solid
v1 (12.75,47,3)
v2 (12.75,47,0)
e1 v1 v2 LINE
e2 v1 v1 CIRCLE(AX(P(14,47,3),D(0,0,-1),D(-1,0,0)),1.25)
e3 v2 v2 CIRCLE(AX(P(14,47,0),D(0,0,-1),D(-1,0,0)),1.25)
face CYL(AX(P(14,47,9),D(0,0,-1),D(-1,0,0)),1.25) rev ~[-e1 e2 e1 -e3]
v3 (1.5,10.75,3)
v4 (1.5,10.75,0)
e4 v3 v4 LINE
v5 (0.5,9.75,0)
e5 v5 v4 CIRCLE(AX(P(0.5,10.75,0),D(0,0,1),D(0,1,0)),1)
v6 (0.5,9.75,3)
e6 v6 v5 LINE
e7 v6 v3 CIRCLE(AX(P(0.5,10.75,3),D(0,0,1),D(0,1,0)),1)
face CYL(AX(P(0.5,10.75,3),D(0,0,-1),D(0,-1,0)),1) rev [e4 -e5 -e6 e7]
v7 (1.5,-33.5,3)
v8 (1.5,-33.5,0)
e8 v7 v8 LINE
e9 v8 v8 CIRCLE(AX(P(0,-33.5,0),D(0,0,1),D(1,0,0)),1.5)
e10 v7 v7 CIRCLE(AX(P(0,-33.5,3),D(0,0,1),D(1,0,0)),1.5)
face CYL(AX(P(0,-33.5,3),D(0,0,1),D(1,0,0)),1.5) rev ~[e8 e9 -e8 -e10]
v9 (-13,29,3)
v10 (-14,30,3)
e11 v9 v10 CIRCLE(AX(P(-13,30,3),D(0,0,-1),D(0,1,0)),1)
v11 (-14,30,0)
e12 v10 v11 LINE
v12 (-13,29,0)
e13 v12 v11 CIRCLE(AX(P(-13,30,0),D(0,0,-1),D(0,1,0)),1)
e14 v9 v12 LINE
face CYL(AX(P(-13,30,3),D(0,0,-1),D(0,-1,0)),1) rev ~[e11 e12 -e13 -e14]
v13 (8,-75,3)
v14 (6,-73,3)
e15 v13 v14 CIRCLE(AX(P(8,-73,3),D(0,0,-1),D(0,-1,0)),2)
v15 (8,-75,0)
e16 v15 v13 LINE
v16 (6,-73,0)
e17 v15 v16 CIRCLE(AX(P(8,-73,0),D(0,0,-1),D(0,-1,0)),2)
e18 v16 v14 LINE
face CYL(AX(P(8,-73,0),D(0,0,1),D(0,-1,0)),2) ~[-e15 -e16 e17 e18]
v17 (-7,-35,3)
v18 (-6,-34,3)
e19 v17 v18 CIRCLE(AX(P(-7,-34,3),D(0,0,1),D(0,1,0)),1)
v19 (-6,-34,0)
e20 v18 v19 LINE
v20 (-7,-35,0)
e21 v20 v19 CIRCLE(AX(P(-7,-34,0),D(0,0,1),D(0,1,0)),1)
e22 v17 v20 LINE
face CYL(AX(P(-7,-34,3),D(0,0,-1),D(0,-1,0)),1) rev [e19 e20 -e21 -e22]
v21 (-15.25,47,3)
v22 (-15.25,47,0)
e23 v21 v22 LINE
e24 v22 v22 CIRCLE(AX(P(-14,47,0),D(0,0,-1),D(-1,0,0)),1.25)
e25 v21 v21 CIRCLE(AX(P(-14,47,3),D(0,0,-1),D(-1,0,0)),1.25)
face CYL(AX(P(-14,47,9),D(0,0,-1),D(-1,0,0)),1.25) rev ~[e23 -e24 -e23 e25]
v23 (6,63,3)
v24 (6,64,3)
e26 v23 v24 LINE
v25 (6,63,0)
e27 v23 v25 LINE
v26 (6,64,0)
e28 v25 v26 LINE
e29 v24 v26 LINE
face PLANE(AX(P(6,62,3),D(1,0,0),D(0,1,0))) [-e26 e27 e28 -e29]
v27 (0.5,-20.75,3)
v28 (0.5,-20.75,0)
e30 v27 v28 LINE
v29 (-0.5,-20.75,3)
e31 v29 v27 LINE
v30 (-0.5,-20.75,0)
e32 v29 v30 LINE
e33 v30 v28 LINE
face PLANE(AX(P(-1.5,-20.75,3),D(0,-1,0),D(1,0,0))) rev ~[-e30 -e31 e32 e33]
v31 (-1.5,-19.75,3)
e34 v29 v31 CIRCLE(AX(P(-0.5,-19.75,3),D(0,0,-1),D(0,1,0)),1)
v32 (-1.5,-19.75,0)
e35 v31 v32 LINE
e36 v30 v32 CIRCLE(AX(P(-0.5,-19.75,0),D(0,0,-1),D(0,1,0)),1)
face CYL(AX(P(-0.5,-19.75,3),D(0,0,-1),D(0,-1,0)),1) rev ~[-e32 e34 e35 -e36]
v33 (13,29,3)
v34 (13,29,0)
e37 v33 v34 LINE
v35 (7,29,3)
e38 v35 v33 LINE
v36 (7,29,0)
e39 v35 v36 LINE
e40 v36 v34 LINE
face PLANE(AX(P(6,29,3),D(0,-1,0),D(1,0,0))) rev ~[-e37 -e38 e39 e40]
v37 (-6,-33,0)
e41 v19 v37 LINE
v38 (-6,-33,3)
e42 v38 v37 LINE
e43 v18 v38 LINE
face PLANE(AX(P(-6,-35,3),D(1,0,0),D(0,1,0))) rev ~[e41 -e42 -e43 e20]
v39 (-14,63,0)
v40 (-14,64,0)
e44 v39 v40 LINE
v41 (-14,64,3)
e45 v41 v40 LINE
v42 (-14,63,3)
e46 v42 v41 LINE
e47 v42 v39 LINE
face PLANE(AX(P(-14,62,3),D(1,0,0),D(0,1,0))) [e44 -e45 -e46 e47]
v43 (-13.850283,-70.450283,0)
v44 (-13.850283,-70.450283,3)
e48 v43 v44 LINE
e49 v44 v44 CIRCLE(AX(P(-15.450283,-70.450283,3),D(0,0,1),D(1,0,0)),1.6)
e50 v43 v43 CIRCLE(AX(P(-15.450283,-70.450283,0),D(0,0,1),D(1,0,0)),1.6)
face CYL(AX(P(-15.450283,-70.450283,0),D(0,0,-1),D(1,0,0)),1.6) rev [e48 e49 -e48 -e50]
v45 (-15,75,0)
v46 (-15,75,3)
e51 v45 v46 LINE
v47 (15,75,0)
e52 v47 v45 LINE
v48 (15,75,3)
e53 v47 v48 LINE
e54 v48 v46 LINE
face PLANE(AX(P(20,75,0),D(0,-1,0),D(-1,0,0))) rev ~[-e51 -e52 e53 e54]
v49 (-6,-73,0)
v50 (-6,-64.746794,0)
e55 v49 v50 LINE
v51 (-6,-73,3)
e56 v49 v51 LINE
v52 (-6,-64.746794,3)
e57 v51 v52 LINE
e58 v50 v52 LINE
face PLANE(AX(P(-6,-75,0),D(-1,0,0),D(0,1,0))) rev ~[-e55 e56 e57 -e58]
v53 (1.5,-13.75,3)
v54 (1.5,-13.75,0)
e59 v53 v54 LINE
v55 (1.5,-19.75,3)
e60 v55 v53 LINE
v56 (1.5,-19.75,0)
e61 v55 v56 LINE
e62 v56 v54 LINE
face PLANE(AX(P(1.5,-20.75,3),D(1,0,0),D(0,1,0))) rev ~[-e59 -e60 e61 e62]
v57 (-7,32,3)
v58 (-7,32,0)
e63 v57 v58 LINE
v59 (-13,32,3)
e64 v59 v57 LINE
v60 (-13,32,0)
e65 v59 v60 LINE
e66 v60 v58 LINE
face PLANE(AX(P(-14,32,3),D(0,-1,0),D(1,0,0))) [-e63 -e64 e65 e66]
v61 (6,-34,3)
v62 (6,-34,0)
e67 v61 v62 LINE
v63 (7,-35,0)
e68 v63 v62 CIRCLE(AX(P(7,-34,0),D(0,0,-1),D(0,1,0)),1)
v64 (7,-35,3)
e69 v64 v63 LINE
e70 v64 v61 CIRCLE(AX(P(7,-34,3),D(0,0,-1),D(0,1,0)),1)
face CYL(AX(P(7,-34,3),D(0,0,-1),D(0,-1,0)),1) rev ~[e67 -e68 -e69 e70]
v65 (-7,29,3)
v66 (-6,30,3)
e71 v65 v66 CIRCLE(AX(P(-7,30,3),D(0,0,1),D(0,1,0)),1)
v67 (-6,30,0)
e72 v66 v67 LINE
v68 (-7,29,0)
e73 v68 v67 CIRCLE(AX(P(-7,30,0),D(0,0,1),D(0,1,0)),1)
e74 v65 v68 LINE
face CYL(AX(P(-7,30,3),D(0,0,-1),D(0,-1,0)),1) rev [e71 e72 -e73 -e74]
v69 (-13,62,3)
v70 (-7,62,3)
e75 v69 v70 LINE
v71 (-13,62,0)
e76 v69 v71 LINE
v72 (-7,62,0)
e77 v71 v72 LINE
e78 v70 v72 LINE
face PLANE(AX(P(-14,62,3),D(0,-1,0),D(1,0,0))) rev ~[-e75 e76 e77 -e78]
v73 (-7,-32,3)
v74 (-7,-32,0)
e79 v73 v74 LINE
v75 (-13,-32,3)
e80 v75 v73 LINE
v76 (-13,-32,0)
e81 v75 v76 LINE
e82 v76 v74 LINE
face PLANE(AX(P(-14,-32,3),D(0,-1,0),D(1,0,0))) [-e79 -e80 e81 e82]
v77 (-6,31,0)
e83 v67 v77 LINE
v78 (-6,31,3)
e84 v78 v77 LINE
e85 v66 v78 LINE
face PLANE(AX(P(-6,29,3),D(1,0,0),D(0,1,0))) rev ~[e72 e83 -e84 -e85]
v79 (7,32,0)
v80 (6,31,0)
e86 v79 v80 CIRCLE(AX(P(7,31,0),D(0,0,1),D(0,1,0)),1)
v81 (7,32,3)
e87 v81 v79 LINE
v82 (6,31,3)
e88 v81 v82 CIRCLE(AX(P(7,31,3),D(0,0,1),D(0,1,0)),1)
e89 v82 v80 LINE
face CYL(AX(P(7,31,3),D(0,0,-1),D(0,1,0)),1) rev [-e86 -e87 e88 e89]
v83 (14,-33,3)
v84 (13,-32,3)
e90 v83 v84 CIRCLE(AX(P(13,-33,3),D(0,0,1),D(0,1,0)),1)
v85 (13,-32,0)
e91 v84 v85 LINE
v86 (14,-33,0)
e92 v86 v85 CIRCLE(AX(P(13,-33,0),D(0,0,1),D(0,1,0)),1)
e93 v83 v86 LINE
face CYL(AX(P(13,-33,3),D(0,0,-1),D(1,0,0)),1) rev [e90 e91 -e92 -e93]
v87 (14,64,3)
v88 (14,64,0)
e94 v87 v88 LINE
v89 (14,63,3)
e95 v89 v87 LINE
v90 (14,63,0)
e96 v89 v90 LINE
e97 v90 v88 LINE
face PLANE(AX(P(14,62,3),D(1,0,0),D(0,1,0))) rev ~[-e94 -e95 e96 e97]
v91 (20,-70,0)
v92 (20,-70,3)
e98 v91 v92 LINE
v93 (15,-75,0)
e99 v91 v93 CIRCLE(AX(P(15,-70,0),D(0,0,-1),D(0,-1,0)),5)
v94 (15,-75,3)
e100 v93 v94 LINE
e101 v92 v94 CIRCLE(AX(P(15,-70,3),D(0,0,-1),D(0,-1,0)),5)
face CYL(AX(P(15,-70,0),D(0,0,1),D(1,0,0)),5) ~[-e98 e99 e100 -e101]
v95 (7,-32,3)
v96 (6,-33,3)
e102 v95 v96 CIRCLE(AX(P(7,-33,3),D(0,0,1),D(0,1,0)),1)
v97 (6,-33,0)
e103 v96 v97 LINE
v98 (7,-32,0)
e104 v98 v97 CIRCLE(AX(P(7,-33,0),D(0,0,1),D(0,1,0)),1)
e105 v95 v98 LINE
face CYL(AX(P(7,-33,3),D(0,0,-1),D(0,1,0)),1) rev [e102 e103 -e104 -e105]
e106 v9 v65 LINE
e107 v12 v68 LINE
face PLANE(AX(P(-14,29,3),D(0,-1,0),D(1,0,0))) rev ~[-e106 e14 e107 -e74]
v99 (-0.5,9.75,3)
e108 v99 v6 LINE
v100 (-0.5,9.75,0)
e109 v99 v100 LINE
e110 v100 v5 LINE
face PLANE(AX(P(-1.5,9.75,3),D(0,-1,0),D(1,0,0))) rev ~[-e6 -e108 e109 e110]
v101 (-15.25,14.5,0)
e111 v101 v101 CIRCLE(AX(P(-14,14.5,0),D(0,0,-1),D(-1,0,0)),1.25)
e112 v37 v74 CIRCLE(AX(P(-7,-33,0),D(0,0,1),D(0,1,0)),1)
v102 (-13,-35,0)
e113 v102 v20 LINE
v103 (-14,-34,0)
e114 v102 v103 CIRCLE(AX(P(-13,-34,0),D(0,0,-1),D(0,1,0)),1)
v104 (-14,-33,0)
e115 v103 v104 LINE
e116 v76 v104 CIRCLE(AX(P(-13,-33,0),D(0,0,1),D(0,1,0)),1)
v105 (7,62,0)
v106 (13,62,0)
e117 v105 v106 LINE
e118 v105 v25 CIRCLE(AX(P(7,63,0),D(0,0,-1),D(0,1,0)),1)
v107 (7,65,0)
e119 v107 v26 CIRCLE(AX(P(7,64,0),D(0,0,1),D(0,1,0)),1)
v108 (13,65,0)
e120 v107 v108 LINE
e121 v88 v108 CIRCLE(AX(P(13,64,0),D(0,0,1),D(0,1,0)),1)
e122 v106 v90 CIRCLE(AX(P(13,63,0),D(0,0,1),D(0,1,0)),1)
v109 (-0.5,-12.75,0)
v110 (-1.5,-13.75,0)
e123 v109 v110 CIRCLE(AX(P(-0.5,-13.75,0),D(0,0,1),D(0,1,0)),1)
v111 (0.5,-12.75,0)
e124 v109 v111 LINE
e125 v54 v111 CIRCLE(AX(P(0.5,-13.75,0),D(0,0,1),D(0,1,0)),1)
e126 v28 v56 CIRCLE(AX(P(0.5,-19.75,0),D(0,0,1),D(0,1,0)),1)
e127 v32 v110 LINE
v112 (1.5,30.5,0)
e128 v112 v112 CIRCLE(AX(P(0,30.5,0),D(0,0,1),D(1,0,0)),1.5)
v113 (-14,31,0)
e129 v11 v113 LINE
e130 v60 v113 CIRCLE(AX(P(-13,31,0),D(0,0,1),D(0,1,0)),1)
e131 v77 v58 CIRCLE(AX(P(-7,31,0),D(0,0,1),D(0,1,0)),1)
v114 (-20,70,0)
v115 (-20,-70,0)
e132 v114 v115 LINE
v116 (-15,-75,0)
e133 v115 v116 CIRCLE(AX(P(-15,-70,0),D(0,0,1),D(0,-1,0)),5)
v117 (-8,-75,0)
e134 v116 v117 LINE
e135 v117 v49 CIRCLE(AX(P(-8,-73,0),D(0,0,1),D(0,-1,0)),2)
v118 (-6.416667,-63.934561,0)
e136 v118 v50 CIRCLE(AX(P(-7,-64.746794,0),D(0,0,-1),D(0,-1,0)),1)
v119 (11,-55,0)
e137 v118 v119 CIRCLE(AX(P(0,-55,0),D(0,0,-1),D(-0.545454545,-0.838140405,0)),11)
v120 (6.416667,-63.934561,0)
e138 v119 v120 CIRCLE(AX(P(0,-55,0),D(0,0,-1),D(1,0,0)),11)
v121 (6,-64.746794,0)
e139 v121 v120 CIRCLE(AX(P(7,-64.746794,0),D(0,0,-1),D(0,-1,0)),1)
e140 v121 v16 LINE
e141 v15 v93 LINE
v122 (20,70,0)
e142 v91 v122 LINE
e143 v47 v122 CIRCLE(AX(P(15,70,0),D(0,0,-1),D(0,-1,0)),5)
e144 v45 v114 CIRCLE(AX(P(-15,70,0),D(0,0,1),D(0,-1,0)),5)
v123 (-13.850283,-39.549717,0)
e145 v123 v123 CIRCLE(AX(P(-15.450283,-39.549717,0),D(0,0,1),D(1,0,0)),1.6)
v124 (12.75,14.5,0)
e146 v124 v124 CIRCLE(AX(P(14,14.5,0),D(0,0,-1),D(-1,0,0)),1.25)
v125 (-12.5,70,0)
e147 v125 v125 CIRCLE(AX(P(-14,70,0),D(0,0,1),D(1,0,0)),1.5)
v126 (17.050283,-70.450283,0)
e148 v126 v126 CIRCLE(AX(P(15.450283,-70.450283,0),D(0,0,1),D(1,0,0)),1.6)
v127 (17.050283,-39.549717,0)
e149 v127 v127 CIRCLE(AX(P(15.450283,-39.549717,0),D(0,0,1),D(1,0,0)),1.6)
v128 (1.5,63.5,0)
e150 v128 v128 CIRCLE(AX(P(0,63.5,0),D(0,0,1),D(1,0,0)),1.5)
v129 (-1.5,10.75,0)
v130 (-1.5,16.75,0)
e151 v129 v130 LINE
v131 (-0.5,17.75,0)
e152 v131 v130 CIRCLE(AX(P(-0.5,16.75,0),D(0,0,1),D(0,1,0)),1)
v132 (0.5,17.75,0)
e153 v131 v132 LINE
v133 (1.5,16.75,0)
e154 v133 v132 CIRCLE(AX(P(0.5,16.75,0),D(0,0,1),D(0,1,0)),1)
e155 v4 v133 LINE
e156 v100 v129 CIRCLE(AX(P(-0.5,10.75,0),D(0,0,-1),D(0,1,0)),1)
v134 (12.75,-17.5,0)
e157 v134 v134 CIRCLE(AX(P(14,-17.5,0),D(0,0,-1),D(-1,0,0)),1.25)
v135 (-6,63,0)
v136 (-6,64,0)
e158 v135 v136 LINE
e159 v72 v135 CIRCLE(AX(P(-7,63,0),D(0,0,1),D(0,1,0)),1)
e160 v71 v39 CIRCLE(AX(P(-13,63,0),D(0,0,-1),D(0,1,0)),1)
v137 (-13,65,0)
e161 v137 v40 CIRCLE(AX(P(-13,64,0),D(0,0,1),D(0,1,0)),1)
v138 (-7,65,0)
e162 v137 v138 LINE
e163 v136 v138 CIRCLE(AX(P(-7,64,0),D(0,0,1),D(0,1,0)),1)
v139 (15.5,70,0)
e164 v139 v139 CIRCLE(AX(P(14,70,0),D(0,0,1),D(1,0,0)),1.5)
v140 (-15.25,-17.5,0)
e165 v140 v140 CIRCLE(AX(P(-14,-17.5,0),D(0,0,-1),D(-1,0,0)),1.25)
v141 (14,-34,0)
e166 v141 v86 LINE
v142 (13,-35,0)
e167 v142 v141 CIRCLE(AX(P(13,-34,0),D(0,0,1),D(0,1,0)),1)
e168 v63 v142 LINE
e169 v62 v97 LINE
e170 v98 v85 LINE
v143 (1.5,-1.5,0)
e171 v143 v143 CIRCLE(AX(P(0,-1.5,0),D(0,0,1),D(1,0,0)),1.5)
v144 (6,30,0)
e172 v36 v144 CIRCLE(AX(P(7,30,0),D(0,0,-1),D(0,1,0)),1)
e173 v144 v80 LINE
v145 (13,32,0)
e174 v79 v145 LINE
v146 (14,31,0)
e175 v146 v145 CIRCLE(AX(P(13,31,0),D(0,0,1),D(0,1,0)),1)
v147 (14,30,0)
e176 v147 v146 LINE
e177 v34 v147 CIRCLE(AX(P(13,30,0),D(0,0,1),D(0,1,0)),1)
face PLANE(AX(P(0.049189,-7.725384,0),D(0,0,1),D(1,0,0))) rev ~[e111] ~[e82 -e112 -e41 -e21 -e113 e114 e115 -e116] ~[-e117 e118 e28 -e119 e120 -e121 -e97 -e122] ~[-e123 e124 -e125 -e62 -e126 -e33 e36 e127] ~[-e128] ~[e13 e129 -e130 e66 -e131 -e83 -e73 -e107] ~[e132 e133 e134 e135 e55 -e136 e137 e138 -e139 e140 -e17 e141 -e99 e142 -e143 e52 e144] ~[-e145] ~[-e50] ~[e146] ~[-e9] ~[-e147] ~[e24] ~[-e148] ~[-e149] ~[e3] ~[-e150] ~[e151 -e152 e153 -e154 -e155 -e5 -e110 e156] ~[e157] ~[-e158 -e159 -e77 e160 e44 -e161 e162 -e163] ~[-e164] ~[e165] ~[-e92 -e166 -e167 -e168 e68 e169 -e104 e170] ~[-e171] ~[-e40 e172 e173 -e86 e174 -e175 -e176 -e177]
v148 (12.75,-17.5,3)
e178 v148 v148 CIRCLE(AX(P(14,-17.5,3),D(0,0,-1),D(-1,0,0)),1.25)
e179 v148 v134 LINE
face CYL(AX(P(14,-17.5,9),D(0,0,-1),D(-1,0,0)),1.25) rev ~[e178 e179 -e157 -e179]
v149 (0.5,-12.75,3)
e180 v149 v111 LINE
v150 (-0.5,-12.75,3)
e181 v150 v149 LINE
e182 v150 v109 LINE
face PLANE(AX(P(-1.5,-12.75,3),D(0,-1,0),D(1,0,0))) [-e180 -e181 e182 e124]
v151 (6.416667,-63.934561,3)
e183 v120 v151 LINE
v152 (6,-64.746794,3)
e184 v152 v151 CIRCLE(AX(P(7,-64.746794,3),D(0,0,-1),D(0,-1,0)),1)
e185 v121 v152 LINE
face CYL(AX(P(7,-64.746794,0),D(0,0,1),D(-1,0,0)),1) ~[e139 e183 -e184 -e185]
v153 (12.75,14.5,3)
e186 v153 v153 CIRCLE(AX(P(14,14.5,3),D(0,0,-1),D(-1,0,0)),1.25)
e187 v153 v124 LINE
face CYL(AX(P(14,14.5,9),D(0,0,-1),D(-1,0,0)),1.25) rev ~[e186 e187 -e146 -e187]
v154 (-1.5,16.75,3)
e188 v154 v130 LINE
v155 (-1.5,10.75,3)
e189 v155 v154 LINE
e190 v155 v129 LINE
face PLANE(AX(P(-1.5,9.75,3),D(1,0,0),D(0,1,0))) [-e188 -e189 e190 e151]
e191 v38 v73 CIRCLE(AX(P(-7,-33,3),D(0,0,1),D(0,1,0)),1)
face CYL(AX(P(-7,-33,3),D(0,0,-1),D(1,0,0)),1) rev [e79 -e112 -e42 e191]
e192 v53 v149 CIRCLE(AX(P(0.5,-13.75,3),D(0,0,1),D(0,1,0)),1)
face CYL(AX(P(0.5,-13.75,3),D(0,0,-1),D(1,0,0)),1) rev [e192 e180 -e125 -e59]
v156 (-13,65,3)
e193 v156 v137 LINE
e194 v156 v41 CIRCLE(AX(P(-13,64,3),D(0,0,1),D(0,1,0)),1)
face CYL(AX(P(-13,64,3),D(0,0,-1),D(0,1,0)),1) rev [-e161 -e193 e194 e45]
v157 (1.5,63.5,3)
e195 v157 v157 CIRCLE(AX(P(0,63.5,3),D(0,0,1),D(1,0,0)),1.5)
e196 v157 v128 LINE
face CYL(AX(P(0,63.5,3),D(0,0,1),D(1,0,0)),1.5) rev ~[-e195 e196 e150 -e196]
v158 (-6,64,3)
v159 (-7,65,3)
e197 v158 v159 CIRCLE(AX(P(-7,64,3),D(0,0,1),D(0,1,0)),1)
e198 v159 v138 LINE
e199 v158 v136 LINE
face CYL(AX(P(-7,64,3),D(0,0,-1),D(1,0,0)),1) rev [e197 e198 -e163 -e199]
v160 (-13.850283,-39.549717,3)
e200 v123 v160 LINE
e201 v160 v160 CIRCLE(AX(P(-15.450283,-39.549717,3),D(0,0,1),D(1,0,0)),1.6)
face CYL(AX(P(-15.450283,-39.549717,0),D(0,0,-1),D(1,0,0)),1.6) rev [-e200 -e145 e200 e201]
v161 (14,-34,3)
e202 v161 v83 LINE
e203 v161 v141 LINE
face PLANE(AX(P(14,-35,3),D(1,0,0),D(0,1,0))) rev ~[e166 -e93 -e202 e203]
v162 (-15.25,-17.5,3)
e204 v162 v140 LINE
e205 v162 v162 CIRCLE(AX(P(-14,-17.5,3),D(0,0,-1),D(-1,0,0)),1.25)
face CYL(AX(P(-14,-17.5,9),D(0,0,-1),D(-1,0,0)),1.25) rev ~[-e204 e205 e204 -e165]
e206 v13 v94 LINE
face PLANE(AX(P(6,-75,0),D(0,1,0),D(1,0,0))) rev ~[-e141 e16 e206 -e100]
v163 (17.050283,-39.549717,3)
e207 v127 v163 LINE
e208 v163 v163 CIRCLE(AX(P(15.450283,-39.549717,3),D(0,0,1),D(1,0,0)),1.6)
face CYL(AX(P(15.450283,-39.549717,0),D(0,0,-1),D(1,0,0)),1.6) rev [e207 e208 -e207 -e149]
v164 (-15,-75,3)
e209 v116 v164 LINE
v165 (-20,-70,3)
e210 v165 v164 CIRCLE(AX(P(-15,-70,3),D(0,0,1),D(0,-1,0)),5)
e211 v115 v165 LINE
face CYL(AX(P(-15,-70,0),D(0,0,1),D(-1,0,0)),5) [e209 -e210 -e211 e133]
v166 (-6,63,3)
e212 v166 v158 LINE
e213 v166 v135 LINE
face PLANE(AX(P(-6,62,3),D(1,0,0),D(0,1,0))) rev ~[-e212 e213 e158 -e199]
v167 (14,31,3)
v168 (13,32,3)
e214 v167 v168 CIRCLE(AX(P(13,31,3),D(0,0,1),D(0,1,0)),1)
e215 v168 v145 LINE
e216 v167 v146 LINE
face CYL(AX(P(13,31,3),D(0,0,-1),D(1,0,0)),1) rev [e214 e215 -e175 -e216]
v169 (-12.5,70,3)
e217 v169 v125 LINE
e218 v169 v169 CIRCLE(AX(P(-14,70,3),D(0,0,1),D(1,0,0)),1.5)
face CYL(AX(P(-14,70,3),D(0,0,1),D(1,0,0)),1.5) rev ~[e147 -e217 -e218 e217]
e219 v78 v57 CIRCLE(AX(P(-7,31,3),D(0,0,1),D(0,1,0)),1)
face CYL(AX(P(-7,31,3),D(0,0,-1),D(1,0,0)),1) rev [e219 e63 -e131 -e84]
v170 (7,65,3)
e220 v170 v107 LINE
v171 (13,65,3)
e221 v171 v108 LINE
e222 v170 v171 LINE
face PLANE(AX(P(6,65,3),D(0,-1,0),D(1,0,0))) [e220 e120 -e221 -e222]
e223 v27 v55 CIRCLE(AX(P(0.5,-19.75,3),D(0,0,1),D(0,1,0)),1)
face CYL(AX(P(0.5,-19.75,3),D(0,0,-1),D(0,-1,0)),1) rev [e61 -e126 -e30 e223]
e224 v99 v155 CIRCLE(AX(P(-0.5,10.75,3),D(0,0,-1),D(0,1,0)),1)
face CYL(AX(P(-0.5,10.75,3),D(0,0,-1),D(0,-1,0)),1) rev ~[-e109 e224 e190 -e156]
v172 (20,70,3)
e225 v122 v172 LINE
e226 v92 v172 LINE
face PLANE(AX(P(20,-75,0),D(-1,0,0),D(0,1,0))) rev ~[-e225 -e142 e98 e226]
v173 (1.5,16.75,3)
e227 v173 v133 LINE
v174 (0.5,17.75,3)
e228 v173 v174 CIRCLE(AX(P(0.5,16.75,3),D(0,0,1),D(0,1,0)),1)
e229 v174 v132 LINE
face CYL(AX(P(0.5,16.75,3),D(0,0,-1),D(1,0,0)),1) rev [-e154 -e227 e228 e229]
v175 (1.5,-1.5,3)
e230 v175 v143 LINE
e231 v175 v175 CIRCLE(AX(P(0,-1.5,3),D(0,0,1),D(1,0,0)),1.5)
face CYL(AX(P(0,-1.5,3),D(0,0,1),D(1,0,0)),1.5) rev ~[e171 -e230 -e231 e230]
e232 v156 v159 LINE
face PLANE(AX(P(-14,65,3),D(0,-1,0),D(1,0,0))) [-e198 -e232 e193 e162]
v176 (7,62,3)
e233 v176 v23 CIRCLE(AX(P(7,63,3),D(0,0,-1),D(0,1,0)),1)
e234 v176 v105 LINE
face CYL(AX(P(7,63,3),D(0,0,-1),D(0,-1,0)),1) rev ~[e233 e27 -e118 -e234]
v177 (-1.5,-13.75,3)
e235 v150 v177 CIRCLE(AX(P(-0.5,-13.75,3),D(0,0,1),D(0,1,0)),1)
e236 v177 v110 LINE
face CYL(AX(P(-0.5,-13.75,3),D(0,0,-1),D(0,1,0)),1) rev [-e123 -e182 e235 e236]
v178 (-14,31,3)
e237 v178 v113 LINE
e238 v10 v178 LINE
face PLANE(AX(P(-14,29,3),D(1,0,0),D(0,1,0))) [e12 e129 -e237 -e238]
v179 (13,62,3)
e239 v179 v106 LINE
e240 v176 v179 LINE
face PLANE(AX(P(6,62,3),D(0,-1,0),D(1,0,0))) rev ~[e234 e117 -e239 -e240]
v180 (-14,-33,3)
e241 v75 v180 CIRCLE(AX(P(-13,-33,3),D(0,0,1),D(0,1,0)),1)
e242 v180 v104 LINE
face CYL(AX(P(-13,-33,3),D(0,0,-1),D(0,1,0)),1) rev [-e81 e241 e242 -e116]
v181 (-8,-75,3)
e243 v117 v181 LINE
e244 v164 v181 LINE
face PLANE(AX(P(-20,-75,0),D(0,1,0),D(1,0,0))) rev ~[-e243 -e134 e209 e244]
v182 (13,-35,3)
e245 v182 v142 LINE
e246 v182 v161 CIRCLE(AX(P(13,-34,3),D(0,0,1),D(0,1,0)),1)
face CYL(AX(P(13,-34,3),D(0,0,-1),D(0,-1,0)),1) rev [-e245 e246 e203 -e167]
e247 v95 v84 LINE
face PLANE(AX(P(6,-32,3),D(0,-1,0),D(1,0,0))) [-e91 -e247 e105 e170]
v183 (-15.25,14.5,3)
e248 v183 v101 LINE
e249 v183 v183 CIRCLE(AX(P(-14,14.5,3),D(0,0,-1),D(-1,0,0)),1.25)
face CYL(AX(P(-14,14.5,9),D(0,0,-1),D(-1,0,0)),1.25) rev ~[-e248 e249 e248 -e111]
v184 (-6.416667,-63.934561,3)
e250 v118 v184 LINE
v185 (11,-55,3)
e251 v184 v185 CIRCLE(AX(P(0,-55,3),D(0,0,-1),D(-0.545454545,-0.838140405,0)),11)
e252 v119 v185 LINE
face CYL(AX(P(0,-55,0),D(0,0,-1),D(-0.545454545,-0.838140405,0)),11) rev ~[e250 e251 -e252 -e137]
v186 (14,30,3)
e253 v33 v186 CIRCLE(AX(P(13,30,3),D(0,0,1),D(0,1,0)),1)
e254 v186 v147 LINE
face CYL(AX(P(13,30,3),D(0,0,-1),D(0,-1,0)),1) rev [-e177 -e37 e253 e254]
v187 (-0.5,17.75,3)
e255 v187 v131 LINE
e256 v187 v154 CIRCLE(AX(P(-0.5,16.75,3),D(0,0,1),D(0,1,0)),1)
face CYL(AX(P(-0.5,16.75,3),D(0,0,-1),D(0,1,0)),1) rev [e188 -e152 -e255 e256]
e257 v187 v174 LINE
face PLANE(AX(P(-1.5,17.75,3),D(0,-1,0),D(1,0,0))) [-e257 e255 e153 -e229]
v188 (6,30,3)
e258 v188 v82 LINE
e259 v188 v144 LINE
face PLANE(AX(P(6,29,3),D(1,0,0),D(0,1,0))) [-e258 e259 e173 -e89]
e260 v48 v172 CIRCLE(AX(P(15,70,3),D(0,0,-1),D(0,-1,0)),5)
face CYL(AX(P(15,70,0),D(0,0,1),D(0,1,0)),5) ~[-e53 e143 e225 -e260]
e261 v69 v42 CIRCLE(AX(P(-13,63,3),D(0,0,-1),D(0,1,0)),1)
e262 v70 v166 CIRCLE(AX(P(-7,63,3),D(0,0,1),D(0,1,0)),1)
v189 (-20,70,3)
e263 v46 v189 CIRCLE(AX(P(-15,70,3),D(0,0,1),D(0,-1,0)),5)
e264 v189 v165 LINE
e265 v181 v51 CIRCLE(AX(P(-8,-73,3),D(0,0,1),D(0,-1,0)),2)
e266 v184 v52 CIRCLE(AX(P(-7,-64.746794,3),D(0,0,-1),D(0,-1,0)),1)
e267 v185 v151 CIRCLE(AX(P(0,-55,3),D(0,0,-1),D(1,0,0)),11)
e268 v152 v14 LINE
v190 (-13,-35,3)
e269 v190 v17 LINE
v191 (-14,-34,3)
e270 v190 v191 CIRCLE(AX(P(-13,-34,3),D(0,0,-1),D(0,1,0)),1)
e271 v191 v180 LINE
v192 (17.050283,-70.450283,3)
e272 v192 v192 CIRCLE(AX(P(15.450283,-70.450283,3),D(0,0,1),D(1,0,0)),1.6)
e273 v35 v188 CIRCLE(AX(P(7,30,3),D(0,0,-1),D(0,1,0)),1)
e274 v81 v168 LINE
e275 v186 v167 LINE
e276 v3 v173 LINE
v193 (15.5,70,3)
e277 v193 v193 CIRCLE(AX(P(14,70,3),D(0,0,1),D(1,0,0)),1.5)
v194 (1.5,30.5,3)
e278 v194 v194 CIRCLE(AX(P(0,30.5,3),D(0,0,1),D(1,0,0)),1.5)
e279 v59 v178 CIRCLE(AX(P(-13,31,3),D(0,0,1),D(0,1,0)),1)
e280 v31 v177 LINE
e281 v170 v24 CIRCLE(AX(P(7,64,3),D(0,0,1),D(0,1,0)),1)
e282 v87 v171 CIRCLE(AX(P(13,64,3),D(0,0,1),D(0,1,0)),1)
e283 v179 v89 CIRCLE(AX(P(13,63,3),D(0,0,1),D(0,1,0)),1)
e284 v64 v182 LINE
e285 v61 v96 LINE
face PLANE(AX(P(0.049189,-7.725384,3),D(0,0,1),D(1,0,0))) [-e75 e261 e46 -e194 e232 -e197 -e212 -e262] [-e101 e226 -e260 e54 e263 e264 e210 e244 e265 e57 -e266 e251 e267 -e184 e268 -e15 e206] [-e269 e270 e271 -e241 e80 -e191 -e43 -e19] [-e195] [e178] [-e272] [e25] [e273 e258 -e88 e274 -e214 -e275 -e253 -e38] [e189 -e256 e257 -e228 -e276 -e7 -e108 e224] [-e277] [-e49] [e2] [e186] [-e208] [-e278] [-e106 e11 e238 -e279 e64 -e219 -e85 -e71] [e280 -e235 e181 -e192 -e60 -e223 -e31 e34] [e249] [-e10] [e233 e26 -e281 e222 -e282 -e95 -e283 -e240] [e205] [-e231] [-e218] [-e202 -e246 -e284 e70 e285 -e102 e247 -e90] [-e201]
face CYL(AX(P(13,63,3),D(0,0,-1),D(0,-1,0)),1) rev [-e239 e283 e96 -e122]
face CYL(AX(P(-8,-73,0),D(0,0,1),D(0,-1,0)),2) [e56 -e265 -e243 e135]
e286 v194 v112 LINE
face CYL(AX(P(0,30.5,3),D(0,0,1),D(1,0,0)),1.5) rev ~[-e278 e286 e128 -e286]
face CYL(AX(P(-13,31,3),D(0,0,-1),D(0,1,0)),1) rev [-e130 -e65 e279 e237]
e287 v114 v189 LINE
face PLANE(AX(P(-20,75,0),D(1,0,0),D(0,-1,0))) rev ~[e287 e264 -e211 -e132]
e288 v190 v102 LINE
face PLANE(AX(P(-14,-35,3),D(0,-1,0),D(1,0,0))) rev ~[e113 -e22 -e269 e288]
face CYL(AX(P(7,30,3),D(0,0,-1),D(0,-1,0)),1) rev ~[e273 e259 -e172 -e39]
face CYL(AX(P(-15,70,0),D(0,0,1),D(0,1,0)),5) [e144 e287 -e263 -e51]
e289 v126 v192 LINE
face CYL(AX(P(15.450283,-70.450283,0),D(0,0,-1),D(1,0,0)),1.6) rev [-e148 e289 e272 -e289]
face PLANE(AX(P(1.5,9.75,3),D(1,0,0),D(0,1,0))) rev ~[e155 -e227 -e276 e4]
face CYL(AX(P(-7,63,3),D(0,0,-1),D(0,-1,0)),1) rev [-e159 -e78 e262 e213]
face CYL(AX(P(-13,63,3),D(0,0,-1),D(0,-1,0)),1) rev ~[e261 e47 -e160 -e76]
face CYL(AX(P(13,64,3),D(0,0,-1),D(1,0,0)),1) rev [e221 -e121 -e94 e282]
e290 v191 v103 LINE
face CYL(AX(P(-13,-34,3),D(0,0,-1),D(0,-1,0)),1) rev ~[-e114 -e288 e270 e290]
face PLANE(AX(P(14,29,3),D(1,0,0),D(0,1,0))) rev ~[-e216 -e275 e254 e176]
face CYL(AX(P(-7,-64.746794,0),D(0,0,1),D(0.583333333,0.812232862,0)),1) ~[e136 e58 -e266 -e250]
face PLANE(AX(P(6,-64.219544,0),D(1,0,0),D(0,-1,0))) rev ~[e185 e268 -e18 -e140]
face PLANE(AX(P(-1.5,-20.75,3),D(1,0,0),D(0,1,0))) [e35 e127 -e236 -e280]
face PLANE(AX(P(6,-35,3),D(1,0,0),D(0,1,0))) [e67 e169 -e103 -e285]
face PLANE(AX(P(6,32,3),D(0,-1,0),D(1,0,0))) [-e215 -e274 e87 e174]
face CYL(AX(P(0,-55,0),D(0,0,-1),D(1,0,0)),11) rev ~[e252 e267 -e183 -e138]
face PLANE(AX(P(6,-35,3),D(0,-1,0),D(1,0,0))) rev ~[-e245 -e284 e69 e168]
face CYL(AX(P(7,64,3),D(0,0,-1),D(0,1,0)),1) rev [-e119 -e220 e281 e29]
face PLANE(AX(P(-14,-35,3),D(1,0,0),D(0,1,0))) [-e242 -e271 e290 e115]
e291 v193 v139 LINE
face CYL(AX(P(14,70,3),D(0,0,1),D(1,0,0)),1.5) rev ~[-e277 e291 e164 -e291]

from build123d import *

# Parameters (mm, degrees)
SKETCH1_R                      = 1.6
BOSS_EXTRUDE1_DEPTH            = 3
FILLET1_R                      = 5
FILLET2_R                      = 2
FILLET3_R                      = 1
SKETCH2_R                      = 1.5
SKETCH2_W                      = 8
SKETCH2_H                      = 3
CUT_EXTRUDE1_DEPTH             = 3
FILLET4_R                      = 1
F_2_5_2_5_DIAMETER_HOLE1_D     = 2.5
F_2_5_2_5_DIAMETER_HOLE1_DEPTH = 6
F_2_5_2_5_DIAMETER_HOLE1_TIP   = 0.751075774
SKETCH8_R                      = 1.5
CUT_EXTRUDE2_DEPTH             = 10
SKETCH9_W                      = 3
SKETCH9_H                      = 8
CUT_EXTRUDE3_DEPTH             = 10
FILLET7_R                      = 1


with BuildPart() as part:
    # Sketch1 → Boss-Extrude1 (new body)
    with BuildSketch(Plane.XY):
        with BuildLine():
            Line((20, 75), (-20, 75))
            Line((-20, 75), (-20, -75))
            Line((-20, -75), (-6, -75))
            Line((-6, -75), (-6, -64.219544457))
            ThreePointArc((-6, -64.219544457), (-5.244044241, -45.330460197), (11, -55))
            ThreePointArc((11, -55), (9.669539803, -60.244044241), (6, -64.219544457))
            Line((6, -64.219544457), (6, -75))
            Line((6, -75), (20, -75))
            Line((20, -75), (20, 75))
        make_face()
        with Locations((-15.450283169, -70.450283169)):
            Circle(SKETCH1_R, mode=Mode.SUBTRACT)
        with Locations((-15.450283169, -39.549716831)):
            Circle(SKETCH1_R, mode=Mode.SUBTRACT)
        with Locations((15.450283169, -70.450283169)):
            Circle(SKETCH1_R, mode=Mode.SUBTRACT)
        with Locations((15.450283169, -39.549716831)):
            Circle(SKETCH1_R, mode=Mode.SUBTRACT)
    extrude(amount=BOSS_EXTRUDE1_DEPTH)

    # Fillet1
    fillet1_edges = [part.edges().sort_by_distance(p)[0] for p in [
        (-20, -75, 1.5),
        (-20, 75, 1.5),
        (20, 75, 1.5),
        (20, -75, 1.5),
    ]]
    fillet(fillet1_edges, radius=FILLET1_R)

    # Fillet2
    fillet2_edges = [part.edges().sort_by_distance(p)[0] for p in [
        (-6, -75, 1.5),
        (6, -75, 1.5),
    ]]
    fillet(fillet2_edges, radius=FILLET2_R)

    # Fillet3
    fillet3_edges = [part.edges().sort_by_distance(p)[0] for p in [
        (-6, -64.219544457, 1.5),
        (6, -64.219544457, 1.5),
    ]]
    fillet(fillet3_edges, radius=FILLET3_R)

    # Sketch2 → Cut-Extrude1 (cut)
    with BuildSketch(Plane.XY.offset(3)):
        with Locations((0, -33.5)):
            Circle(SKETCH2_R)
        with Locations((0, 30.5)):
            Circle(SKETCH2_R)
        with Locations((0, 63.5)):
            Circle(SKETCH2_R)
        with Locations((0, -1.5)):
            Circle(SKETCH2_R)
        with Locations((-10, 63.5)):
            Rectangle(SKETCH2_W, SKETCH2_H)
        with Locations((10, 63.5)):
            Rectangle(SKETCH2_W, SKETCH2_H)
        with Locations((-10, 30.5)):
            Rectangle(SKETCH2_W, SKETCH2_H)
        with Locations((10, 30.5)):
            Rectangle(SKETCH2_W, SKETCH2_H)
        with Locations((-10, -33.5)):
            Rectangle(SKETCH2_W, SKETCH2_H)
        with Locations((10, -33.5)):
            Rectangle(SKETCH2_W, SKETCH2_H)
    extrude(amount=-CUT_EXTRUDE1_DEPTH, mode=Mode.SUBTRACT)

    # Fillet4
    fillet4_edges = [part.edges().sort_by_distance(p)[0] for p in [
        (14, -32, 1.5),
        (14, -35, 1.5),
        (6, -35, 1.5),
        (6, -32, 1.5),
        (14, 32, 1.5),
        (14, 29, 1.5),
        (6, 29, 1.5),
        (6, 32, 1.5),
        (-6, 32, 1.5),
        (-6, 29, 1.5),
        (-14, 29, 1.5),
        (-14, 32, 1.5),
        (-6, 65, 1.5),
        (-6, 62, 1.5),
        (-14, 62, 1.5),
        (-14, 65, 1.5),
        (14, 65, 1.5),
        (14, 62, 1.5),
        (6, 62, 1.5),
        (6, 65, 1.5),
        (-6, -32, 1.5),
        (-6, -35, 1.5),
        (-14, -35, 1.5),
        (-14, -32, 1.5),
    ]]
    fillet(fillet4_edges, radius=FILLET4_R)

    # Ø2.5 (2.5) Diameter Hole1
    with Locations(Plane.XY.offset(3)):
        with Locations((14, -17.5), (-14, -17.5), (-14, 14.5), (14, 14.5), (14, 47), (-14, 47)):
            Hole(F_2_5_2_5_DIAMETER_HOLE1_D / 2, depth=F_2_5_2_5_DIAMETER_HOLE1_DEPTH)
            with Locations((0, 0, -(F_2_5_2_5_DIAMETER_HOLE1_DEPTH + F_2_5_2_5_DIAMETER_HOLE1_TIP / 2))):  # 118° drill point
                Cone(0, F_2_5_2_5_DIAMETER_HOLE1_D / 2, F_2_5_2_5_DIAMETER_HOLE1_TIP, mode=Mode.SUBTRACT)

    # Sketch8 → Cut-Extrude2 (cut)
    with BuildSketch(Plane.XY.offset(3)):
        with Locations((-14, 70)):
            Circle(SKETCH8_R)
        with Locations((14, 70)):
            Circle(SKETCH8_R)
    extrude(amount=-CUT_EXTRUDE2_DEPTH, mode=Mode.SUBTRACT)

    # Sketch9 → Cut-Extrude3 (cut)
    with BuildSketch(Plane.XY.offset(3)):
        with Locations((0, -16.75)):
            Rectangle(SKETCH9_W, SKETCH9_H)
        with Locations((0, 13.75)):
            Rectangle(SKETCH9_W, SKETCH9_H)
    extrude(amount=-CUT_EXTRUDE3_DEPTH, mode=Mode.SUBTRACT)

    # Fillet7
    fillet7_edges = [part.edges().sort_by_distance(p)[0] for p in [
        (1.5, 17.75, 1.5),
        (1.5, 9.75, 1.5),
        (-1.5, 9.75, 1.5),
        (-1.5, 17.75, 1.5),
        (-1.5, -20.75, 1.5),
        (-1.5, -12.75, 1.5),
        (1.5, -12.75, 1.5),
        (1.5, -20.75, 1.5),
    ]]
    fillet(fillet7_edges, radius=FILLET7_R)


solid = part.part
